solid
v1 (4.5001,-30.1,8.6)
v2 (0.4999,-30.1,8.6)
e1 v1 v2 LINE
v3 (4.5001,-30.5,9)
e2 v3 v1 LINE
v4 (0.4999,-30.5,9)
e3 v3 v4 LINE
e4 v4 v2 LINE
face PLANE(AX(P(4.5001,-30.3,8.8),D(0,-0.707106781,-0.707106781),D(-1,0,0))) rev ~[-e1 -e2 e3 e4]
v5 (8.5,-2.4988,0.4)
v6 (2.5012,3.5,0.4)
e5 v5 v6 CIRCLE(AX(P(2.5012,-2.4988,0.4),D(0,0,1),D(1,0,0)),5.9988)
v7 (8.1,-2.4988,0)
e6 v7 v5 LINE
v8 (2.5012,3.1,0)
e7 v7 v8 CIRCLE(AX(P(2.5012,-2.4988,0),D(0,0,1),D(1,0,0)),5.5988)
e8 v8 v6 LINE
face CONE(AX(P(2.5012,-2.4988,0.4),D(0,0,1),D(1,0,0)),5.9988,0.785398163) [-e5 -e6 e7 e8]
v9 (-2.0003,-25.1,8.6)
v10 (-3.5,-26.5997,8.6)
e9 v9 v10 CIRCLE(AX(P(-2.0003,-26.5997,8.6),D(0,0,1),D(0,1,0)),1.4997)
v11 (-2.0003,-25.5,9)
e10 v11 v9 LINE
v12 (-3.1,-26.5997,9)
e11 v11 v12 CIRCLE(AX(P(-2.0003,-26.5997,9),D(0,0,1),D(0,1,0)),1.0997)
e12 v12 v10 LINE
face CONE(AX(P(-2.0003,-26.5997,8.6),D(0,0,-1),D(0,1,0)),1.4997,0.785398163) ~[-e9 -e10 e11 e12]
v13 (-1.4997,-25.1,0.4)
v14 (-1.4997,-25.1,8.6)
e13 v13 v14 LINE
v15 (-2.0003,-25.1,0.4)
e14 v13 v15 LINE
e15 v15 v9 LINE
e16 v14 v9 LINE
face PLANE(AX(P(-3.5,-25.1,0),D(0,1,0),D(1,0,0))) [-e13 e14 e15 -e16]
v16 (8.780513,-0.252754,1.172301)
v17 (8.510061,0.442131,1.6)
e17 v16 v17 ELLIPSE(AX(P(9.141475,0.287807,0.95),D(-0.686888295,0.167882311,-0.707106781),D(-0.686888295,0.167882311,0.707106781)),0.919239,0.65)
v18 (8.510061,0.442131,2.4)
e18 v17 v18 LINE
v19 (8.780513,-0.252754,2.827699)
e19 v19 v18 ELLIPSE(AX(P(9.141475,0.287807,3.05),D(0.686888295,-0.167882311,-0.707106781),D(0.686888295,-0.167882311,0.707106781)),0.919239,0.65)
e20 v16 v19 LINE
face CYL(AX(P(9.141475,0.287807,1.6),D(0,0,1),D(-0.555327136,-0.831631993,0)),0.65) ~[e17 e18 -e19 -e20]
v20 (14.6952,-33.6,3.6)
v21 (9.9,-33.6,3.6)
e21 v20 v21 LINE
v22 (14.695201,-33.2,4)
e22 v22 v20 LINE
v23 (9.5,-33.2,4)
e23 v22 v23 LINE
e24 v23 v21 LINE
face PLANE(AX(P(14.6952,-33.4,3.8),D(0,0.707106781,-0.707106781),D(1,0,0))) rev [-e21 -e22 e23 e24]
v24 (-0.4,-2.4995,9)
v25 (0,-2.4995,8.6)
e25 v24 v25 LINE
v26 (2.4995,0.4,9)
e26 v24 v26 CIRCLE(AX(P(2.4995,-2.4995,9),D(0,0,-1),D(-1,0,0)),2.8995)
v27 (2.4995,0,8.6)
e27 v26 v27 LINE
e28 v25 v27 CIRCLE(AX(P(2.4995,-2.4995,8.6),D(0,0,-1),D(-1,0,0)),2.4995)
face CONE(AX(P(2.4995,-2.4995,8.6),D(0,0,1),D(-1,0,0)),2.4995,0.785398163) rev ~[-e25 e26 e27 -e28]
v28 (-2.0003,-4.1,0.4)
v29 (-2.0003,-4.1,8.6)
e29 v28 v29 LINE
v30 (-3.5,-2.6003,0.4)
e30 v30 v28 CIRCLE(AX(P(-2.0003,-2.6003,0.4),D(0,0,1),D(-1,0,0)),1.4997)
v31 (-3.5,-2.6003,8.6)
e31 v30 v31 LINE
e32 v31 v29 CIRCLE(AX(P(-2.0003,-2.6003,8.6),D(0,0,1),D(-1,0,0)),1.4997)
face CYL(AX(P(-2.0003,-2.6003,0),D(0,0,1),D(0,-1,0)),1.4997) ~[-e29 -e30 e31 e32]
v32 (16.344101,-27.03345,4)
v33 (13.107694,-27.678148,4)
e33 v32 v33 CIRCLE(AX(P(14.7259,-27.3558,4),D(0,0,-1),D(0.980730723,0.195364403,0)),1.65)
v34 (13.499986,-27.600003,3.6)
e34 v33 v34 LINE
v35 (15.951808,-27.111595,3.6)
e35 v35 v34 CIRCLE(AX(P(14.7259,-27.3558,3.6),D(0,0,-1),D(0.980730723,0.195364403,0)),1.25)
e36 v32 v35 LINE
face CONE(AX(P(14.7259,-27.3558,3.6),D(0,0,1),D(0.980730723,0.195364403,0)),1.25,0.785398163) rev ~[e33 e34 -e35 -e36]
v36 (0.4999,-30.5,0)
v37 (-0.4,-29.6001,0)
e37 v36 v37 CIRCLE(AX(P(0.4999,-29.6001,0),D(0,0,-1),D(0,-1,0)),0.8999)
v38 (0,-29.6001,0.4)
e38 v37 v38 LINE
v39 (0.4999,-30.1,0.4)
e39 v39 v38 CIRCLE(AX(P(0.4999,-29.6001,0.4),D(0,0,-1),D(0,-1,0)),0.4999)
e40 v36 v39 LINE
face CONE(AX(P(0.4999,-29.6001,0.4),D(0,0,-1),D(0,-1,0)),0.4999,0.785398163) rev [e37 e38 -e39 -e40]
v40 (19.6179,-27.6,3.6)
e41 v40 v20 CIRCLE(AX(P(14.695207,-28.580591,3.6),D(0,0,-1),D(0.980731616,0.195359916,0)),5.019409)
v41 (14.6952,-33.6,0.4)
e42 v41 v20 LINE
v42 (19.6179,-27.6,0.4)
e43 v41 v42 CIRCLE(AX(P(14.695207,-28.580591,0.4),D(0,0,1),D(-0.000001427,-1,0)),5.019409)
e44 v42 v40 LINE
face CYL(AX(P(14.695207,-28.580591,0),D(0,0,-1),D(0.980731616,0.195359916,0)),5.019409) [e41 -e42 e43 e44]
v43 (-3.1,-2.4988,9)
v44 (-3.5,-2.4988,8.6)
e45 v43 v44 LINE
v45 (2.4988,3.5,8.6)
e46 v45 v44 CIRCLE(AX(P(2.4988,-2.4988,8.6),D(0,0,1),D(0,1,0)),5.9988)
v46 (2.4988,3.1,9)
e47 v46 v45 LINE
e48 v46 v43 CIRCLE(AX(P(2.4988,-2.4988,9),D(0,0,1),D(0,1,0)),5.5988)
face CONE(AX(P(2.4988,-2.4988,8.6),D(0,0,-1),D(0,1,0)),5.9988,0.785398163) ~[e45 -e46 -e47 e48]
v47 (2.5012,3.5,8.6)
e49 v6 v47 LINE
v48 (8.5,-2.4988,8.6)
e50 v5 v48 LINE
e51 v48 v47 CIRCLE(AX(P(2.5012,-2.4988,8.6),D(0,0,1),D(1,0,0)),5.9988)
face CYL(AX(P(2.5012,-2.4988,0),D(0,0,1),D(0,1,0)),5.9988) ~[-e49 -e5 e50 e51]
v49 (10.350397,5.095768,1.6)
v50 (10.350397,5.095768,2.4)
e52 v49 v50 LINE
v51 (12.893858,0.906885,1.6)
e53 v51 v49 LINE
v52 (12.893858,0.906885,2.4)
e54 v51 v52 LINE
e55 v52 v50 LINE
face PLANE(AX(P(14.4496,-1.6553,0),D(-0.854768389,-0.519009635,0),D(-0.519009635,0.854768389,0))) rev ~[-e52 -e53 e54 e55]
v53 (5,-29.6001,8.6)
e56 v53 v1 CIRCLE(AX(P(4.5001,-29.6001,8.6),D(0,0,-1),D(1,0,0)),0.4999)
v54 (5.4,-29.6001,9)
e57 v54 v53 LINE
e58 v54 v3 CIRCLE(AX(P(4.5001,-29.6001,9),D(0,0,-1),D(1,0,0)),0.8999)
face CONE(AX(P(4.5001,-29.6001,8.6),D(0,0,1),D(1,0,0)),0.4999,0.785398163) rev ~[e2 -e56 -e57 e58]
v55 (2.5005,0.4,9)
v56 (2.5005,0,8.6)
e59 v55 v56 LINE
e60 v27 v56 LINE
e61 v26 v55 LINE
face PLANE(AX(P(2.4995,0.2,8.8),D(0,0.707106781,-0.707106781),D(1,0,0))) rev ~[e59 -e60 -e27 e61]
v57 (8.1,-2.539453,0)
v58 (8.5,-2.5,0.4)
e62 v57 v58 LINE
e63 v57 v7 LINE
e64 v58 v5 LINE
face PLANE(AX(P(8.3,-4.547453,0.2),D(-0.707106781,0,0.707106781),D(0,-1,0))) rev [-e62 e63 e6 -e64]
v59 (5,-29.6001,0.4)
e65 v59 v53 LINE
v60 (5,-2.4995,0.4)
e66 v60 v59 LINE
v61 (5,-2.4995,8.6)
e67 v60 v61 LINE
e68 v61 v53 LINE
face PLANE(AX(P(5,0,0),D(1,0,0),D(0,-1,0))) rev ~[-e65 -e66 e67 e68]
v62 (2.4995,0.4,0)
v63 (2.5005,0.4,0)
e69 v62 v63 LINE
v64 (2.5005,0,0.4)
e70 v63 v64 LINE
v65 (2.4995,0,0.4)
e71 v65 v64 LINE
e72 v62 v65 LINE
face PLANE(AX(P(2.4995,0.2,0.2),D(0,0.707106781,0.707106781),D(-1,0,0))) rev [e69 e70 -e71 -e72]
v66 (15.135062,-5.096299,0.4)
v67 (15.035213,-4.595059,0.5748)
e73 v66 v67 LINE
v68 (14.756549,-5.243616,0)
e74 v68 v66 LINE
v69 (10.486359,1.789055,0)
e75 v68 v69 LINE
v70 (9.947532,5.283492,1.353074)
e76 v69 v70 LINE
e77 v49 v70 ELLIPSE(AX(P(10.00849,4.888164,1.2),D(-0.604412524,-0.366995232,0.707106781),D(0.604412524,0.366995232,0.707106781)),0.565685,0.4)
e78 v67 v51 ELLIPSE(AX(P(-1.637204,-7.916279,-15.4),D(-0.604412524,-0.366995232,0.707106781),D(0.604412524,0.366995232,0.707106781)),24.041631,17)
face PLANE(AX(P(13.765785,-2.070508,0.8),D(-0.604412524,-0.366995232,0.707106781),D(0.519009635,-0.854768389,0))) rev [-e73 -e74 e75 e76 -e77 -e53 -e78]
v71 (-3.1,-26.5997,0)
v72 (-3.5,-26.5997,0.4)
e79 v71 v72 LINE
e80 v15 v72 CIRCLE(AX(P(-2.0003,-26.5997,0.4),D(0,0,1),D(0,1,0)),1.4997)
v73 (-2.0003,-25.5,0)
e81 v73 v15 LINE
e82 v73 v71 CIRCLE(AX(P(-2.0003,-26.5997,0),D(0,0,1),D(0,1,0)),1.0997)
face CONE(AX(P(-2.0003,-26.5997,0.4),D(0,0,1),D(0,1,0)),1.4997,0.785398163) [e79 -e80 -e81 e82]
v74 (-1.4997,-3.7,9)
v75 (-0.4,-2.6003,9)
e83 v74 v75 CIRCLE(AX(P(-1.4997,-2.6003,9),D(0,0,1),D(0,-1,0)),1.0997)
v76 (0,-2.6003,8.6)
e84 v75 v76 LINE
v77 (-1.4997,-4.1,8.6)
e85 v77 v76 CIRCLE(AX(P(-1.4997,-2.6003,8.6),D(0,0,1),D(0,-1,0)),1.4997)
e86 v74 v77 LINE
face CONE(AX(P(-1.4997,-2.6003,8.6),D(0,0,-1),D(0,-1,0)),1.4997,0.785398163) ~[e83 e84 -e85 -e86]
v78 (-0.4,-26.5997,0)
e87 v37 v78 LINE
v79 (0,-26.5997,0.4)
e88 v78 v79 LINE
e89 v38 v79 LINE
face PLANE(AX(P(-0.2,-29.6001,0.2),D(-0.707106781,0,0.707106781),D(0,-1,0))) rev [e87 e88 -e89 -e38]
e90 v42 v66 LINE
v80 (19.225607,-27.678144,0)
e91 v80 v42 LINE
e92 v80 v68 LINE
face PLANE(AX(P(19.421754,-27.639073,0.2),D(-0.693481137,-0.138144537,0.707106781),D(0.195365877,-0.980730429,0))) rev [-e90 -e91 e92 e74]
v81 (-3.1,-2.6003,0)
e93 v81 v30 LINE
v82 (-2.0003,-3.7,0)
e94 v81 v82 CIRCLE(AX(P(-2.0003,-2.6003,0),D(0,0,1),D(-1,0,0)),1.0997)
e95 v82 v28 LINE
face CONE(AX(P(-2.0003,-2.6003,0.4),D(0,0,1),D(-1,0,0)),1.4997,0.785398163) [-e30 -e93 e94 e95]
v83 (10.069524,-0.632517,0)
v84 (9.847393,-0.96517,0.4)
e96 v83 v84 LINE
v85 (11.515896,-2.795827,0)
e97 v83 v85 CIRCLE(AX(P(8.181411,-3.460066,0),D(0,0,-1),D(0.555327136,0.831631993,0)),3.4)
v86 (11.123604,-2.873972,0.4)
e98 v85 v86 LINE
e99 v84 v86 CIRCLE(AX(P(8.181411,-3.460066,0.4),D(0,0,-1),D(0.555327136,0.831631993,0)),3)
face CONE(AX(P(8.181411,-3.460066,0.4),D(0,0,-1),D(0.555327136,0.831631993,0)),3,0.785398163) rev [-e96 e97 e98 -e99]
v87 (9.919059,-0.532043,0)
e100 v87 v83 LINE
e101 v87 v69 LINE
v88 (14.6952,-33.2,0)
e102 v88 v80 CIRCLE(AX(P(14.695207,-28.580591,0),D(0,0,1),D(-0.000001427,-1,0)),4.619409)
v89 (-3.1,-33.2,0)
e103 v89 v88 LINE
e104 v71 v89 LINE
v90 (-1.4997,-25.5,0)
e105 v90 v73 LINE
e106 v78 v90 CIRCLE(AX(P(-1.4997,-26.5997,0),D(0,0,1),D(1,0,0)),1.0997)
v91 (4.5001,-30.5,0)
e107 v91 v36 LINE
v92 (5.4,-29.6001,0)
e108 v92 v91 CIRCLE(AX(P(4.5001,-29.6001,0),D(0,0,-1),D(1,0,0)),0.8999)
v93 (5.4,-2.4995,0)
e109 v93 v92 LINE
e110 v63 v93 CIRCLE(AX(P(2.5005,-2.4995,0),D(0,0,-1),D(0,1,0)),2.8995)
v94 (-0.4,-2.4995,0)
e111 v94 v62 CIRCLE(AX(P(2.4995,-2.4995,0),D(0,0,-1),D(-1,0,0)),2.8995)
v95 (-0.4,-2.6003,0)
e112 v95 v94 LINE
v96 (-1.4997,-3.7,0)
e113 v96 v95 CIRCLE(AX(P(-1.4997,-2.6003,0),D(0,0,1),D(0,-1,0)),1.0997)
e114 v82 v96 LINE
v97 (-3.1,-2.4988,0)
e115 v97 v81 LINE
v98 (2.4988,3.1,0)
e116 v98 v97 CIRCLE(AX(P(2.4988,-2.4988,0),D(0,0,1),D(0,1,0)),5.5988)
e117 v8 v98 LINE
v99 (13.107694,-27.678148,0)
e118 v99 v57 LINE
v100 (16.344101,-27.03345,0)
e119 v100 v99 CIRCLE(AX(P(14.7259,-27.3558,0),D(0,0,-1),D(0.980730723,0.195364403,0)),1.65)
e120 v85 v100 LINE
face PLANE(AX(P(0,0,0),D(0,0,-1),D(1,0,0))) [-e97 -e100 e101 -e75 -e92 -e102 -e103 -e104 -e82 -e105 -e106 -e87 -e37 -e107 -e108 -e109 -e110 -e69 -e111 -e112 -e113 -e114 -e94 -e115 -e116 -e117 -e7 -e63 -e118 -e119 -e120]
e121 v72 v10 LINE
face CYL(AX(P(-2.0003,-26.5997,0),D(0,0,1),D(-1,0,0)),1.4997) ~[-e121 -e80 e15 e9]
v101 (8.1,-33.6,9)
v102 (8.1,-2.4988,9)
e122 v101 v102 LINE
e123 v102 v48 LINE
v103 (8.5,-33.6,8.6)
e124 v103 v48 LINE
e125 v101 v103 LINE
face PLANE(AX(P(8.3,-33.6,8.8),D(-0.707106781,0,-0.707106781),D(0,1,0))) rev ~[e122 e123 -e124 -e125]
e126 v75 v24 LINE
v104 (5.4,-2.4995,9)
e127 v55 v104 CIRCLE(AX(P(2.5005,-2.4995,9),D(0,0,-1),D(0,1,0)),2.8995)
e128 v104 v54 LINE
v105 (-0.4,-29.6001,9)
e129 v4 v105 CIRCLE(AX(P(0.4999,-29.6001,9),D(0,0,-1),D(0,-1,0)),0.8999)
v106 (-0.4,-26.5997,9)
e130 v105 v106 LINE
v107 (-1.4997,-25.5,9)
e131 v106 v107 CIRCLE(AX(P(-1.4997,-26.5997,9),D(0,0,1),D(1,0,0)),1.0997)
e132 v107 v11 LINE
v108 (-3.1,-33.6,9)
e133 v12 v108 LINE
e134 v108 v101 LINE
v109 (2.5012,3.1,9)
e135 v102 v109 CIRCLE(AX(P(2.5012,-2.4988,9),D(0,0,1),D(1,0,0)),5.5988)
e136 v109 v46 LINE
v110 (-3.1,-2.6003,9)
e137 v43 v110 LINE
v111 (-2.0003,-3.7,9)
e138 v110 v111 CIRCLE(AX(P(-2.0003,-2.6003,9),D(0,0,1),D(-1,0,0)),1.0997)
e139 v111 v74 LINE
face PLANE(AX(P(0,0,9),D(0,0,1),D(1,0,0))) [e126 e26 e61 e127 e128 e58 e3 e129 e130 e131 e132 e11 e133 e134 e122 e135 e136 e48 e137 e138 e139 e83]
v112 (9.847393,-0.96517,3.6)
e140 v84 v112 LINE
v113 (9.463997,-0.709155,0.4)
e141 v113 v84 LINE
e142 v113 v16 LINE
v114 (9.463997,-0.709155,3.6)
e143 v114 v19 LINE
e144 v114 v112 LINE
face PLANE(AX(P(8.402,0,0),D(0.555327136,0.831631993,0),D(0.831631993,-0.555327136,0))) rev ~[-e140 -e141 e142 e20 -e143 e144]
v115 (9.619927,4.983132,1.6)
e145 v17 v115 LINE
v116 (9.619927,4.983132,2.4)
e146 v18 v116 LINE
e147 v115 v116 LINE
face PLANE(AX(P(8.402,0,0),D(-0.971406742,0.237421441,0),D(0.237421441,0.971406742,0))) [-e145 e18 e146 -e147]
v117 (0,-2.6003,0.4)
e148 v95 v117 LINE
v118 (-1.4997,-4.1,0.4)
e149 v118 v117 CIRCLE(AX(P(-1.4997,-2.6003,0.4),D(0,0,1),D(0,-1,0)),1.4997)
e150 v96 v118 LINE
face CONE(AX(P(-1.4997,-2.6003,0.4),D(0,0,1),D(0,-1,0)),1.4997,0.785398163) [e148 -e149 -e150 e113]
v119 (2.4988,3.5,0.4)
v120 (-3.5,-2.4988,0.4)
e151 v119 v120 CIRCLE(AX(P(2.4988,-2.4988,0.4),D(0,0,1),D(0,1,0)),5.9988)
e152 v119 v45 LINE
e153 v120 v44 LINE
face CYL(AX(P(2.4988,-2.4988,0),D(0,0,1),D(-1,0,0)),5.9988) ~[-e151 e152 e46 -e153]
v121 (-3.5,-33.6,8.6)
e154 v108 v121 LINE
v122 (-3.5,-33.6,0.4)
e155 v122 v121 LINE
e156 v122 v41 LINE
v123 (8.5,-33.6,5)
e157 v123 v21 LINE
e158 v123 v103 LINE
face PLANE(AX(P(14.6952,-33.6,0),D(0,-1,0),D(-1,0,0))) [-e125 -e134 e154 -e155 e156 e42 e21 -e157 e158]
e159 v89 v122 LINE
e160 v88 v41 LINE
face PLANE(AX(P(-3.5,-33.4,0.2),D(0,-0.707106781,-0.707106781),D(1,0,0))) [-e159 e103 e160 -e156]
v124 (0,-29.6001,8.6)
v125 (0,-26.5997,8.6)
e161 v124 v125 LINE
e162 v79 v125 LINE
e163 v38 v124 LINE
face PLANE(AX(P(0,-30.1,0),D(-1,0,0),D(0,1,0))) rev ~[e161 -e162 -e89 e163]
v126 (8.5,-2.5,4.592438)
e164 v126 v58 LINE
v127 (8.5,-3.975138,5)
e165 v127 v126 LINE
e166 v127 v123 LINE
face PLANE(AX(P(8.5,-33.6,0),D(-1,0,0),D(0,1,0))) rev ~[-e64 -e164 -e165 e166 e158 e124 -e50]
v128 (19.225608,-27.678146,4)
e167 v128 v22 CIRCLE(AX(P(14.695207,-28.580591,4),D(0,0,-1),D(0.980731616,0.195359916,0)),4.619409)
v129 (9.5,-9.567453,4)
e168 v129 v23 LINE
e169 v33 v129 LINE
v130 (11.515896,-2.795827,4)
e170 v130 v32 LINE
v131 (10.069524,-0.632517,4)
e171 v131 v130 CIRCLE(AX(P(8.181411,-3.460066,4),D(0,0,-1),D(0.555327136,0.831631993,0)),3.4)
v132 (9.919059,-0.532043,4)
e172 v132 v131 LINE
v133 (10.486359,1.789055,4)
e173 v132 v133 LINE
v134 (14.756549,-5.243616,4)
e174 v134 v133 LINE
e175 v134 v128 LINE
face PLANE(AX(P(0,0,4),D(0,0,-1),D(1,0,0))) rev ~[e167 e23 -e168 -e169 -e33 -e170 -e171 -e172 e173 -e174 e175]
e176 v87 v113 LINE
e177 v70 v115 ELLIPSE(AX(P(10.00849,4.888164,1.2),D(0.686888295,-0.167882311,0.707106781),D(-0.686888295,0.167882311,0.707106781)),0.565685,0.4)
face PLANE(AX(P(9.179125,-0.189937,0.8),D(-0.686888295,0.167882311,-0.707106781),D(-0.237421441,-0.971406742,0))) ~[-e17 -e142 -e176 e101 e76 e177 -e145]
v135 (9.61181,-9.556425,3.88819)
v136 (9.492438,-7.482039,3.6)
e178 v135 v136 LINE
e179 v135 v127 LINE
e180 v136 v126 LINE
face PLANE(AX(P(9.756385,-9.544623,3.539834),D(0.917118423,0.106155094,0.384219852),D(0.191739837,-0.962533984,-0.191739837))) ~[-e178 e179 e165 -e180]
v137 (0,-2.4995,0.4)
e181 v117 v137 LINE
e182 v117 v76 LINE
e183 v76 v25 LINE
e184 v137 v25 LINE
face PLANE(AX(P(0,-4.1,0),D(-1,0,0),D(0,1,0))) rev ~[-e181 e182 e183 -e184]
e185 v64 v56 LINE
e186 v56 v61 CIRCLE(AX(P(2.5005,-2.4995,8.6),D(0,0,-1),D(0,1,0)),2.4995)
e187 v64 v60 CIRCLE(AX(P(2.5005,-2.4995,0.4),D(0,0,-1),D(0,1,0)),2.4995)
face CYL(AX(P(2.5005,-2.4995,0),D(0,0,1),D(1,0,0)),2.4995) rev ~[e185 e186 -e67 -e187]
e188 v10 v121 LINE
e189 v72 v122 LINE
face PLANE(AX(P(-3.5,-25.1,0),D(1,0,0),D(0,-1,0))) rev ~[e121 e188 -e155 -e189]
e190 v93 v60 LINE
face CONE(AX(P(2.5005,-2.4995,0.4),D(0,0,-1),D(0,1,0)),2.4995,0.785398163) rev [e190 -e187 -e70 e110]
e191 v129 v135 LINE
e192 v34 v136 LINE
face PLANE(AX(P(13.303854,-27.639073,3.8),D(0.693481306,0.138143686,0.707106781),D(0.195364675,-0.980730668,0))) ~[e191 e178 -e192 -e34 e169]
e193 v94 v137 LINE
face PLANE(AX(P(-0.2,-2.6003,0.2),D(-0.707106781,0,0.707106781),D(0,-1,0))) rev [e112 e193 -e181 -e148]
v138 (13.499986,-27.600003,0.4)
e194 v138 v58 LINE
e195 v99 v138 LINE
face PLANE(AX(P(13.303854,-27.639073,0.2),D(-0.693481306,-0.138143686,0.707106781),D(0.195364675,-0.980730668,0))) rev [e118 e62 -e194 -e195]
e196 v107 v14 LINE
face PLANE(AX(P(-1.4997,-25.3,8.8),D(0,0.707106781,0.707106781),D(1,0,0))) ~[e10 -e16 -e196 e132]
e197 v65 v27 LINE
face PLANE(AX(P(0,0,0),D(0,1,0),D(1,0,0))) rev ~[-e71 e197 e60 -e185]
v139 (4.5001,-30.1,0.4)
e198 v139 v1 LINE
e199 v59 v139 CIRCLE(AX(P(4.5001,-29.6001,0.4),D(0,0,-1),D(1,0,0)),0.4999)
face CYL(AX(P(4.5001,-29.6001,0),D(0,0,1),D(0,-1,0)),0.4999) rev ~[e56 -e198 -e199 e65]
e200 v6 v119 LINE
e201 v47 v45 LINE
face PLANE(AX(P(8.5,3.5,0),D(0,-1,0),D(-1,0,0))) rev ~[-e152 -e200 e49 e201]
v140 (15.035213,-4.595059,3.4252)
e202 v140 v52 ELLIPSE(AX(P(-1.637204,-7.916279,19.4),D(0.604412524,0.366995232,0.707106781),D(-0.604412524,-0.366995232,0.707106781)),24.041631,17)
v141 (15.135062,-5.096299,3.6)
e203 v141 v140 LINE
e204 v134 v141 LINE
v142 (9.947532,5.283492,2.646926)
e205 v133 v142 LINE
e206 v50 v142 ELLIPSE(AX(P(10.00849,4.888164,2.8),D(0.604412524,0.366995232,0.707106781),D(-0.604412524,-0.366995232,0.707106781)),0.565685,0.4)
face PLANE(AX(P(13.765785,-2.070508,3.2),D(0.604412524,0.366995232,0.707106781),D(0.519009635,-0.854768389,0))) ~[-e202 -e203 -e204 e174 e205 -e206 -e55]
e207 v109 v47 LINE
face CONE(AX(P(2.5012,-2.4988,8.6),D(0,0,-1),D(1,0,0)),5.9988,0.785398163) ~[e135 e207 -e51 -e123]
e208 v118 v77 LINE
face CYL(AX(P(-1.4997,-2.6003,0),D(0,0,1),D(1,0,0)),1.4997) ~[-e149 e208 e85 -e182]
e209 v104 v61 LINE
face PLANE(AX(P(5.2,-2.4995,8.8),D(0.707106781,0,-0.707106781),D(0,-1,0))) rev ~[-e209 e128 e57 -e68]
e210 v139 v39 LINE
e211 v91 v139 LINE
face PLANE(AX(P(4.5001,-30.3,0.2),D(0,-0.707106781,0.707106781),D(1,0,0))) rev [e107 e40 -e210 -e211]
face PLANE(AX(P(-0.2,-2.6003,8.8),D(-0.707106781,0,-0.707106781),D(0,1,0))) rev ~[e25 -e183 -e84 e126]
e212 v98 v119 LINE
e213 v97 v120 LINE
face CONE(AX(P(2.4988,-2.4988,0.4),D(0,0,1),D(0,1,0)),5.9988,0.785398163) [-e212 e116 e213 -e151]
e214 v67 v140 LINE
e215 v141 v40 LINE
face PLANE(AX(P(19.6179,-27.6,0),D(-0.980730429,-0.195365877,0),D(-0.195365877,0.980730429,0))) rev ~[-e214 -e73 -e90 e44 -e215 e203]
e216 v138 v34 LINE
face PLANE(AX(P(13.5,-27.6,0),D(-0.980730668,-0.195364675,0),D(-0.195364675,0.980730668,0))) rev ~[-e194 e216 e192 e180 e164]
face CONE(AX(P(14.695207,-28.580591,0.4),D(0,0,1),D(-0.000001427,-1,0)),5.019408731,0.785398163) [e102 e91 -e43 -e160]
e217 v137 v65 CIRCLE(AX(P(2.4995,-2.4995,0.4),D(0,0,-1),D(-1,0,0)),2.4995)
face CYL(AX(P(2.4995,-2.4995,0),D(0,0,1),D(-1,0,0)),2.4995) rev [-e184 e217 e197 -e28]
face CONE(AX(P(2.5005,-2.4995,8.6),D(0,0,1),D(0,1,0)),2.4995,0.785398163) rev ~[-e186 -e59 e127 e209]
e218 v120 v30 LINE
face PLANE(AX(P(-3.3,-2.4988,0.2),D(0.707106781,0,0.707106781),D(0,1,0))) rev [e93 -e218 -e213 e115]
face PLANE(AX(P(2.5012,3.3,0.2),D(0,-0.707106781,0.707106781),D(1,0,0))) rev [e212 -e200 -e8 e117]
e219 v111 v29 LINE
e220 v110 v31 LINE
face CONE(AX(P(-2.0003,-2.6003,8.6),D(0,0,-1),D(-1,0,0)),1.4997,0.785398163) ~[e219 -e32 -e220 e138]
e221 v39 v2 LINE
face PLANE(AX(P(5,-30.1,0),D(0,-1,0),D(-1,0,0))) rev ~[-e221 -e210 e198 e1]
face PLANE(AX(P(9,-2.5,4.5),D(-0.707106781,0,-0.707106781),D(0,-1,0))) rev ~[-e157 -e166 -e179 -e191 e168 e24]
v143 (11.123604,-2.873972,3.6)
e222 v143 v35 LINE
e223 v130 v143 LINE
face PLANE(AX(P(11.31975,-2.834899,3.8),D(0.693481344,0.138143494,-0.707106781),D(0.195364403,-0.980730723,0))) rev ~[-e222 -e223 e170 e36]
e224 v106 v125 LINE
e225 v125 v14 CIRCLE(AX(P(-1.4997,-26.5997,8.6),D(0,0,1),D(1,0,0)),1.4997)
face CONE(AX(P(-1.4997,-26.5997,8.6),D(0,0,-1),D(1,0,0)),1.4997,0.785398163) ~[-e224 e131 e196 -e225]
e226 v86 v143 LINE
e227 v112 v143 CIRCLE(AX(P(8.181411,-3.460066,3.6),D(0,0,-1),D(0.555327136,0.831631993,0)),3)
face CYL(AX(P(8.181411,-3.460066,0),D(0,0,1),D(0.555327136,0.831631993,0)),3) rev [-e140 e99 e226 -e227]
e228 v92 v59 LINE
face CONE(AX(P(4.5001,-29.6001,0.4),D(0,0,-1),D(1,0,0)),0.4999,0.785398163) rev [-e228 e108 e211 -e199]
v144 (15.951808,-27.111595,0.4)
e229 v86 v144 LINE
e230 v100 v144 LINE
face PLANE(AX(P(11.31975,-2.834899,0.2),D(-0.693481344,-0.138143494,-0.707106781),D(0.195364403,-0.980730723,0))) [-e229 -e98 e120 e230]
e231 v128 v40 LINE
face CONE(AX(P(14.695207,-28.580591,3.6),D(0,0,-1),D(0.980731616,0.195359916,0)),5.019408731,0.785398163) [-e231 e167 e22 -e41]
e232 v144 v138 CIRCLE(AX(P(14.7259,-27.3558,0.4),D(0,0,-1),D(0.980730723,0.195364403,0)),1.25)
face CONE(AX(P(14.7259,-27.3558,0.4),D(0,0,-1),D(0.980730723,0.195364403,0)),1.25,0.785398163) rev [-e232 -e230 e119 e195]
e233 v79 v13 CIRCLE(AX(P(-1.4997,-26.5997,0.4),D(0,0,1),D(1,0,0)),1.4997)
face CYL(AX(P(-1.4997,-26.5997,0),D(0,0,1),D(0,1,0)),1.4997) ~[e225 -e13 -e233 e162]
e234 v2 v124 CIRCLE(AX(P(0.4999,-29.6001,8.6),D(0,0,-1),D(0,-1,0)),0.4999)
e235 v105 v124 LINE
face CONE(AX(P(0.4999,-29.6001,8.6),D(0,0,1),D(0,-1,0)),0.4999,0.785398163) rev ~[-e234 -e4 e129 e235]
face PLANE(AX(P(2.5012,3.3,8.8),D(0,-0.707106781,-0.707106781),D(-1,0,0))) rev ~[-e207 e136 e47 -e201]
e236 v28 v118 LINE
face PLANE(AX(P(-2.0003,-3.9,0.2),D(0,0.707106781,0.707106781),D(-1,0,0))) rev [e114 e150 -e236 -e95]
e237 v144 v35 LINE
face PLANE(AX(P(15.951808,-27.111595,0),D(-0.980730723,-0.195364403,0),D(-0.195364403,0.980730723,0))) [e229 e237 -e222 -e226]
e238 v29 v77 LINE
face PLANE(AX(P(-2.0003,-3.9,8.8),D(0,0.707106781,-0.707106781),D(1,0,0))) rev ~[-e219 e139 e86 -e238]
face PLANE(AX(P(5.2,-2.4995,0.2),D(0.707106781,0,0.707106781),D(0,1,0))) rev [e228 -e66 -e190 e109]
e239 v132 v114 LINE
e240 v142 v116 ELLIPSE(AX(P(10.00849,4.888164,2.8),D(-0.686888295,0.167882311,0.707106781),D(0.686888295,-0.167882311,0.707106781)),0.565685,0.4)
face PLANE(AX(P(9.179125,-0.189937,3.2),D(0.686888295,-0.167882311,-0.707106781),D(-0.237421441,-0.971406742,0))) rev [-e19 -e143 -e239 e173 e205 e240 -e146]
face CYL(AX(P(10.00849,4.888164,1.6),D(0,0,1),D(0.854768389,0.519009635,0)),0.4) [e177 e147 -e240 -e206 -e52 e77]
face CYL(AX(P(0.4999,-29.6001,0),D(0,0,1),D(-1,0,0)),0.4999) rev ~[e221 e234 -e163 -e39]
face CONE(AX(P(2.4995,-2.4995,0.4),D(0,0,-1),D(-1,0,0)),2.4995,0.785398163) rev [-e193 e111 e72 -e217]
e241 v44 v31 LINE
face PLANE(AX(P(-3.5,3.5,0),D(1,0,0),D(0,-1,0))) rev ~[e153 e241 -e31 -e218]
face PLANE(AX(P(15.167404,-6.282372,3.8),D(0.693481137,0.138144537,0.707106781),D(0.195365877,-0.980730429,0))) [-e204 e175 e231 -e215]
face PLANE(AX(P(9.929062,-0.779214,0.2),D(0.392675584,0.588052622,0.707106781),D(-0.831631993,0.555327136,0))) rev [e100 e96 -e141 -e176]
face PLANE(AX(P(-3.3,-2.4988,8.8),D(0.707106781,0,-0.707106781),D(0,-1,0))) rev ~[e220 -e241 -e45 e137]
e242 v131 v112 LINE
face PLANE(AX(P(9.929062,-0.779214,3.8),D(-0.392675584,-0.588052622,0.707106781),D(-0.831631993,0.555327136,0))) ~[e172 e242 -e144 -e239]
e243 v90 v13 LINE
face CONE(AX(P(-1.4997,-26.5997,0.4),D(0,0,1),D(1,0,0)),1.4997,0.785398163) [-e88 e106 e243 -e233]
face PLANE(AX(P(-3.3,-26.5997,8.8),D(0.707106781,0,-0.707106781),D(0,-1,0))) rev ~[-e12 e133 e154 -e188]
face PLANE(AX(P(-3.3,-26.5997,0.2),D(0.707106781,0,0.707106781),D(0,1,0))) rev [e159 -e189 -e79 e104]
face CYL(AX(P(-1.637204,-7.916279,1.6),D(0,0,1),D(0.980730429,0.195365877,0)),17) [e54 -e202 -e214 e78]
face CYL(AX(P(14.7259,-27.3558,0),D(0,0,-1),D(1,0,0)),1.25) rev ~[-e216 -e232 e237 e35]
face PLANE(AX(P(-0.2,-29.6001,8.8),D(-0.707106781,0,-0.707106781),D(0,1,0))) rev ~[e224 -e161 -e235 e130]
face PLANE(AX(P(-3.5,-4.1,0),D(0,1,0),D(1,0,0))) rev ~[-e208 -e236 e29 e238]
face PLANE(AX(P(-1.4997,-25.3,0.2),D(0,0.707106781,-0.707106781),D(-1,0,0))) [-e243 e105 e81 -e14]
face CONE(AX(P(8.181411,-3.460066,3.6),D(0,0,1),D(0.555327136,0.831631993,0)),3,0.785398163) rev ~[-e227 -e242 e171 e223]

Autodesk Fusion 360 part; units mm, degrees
sketch "Sketch2" plane through (0, 0, 0) normal (0, 0, 1) x (1, 0, 0)
  line L0 (0, 0) -> (5, 0)
  line L1 (5, 0) -> (5, -30.1)
  line L2 (5, -30.1) -> (0, -30.1)
  line L3 (0, -30.1) -> (0, 0)
  line L4 (-3.5, -33.6) -> (8.5, -33.6)
  line L5 (8.5, -33.6) -> (8.5, 3.5)
  line L6 (8.5, 3.5) -> (-3.5, 3.5)
  line L7 (-3.5, 3.5) -> (-3.5, -33.6)
  line L8 (-3.5, -25.1) -> (0, -25.1)
  line L9 (-3.5, -4.1) -> (0, -4.1)
  dimension "d12" = 30.1
  dimension "d13" = 5
  dimension "d22" = 3.5
  dimension "d23" = 3.5
  dimension "d24" = 3.5
  dimension "d25" = 3.5
  dimension "d26" = 21
  dimension "d27" = 5
extrude "Extrude1" add sketch "Sketch2" along normal blind 9 contours L0 L1 L2 L3 L4 L5 L6 L7 L8 L9
fillet "Fillet1" radius 2.5 2 edges at (5, 0, 4.5) (0, 0, 4.5)
fillet "Fillet1" radius 6 2 edges at (8.5, 3.5, 4.5) (-3.5, 3.5, 4.5)
fillet "Fillet1" radius 1.5 4 edges at (0, -4.1, 4.5) (-3.5, -4.1, 4.5) (0, -25.1, 4.5) (-3.5, -25.1, 4.5)
fillet "Fillet1" radius 0.5 2 edges at (0, -30.1, 4.5) (5, -30.1, 4.5)
sketch "Sketch3" plane through (0, 0, 0) normal (0, 0, -1) x (1, 0, 0)
  arc A0 (-3.5, 26.6) -> (-2, 25.1) centre (-2, 26.6) ccw
  line L0 (-2, 25.1) -> (-1.5, 25.1)
  arc A1 (-1.5, 25.1) -> (0, 26.6) centre (-1.5, 26.6) ccw
  line L1 (0, 26.6) -> (0, 29.6)
  line L2 (0.5, 30.1) -> (4.5, 30.1)
  line L3 (5, 29.6) -> (5, 2.5)
  arc A2 (0, 2.5) -> (5, 2.5) centre (2.5, 2.5) ccw
  line L4 (0, 2.5) -> (0, 2.6)
  arc A3 (0, 2.6) -> (-1.5, 4.1) centre (-1.5, 2.6) ccw
  line L5 (-1.5, 4.1) -> (-2, 4.1)
  arc A4 (-2, 4.1) -> (-3.5, 2.6) centre (-2, 2.6) ccw
  line L6 (-3.5, 2.6) -> (-3.5, 2.5)
  arc A5 (-3.5, 2.5) -> (8.5, 2.5) centre (2.5, 2.5) ccw
  line L7 (8.5, 2.5) -> (8.5, 33.6)
  line L8 (8.5, 33.6) -> (-3.5, 33.6)
  line L9 (-3.5, 33.6) -> (-3.5, 26.6)
  line L10 (8.5, 27.6) -> (16.0491, 27.6) construction
  line L11 (13.5, 27.6) -> (8.5, 2.5)
  line L12 (16.0491, 27.6) -> (10.5511, 0)
  line L13 (0, 0) -> (10.5511, 0) construction
  line L14 (19.6179, 27.6) -> (14.4496, 1.6553)
  line L15 (8.402, 0) -> (9.8492, -5.9212)
  line L16 (8.402, 0) -> (10.8809, 1.6553)
  line L17 (14.4496, 1.6553) -> (9.8492, -5.9212)
  line L18 (14.4496, 1.6553) -> (10.8809, 1.6553) construction
  arc A6 (19.6179, 27.6) -> (14.6952, 33.6) centre (14.6952, 28.5806) ccw
  line L19 (14.6952, 33.6) -> (8.5, 33.6)
  line L20 (8.5, 2.5) -> (8.002, 0)
  line L21 (19.6179, 27.6) -> (16.0491, 27.6) construction
  circle A7 centre (14.7259, 27.3558) radius 1.25
  arc A8 (0.5, 30.1) -> (0, 29.6) centre (0.5, 29.6) ccw
  arc A9 (5, 29.6) -> (4.5, 30.1) centre (4.5, 29.6) ccw
  dimension "d36" = 2.5
  dimension "d37" = 2.5
  dimension "d38" = 5
  dimension "d39" = 3.5
  dimension "d40" = 45
  dimension "d41" = 110
  dimension "d44" = 20
  dimension "d45" = 0.4
extrude "Extrude2" add sketch "Sketch3" against normal blind 4 contours L7 L11 L12 L14 L15 L16 L17 A6 L19 A7
chamfer "Chamfer1" distance 1 angle 45 1 edges at (8.5, -18.05, 4)
chamfer "Chamfer4" distance 1.6 angle 45 4 edges at (9.1256, 2.9606, 4) (12.1494, 2.133, 4) (12.1494, 2.133, 0) (9.1256, 2.9606, 0)
fillet "Fillet3" radius 0.4 1 edges at (9.8492, 5.9212, 2)
fillet "Fillet3" radius 17 1 edges at (14.4496, -1.6553, 2)
fillet "Fillet3" radius 3 1 edges at (10.8809, -1.6553, 2)
fillet "Fillet3" radius 0.65 1 edges at (8.402, 0, 2)
chamfer "Chamfer5" distance 0.4 angle 45 9 edges at (18.5757, -31.7643, 4) (17.4907, -16.9216, 4) (12.0976, -33.6, 4) (11.5, -17.56, 4) (9.8327, -0.9554, 4) (10.6754, -1.7927, 4) (13.5377, -14.9928, 4) (14.9701, -28.5817, 4) (9, -5.01, 4.5)
chamfer "Chamfer5" distance 0.4 angle 45 24 edges at (17.4907, -16.9216, 0) (5.5976, -33.6, 0) (18.5757, -31.7643, 0) (-3.5, -30.1, 0) (2.5, 3.5, 0) (-3.5, -2.55, 0) (-3.0607, -3.6607, 0) (-1.75, -4.1, 0) (-0.4393, -3.6607, 0) (0, -2.55, 0) (2.5, 0, 0) (5, -16.05, 0) (4.8536, -29.9536, 0) (2.5, -30.1, 0) (0.1464, -29.9536, 0) (0, -28.1, 0) (-0.4393, -25.5393, 0) (-1.75, -25.1, 0) (-3.0607, -25.5393, 0) (11, -15.05, 0) (9.8327, -0.9554, 0) (10.6754, -1.7927, 0) (13.5377, -14.9928, 0) (14.9701, -28.5817, 0)
chamfer "Chamfer5" distance 0.4 angle 45 17 edges at (2.5, 0, 9) (0, -2.55, 9) (-0.4393, -3.6607, 9) (-1.75, -4.1, 9) (-3.0607, -3.6607, 9) (-3.5, -2.55, 9) (2.5, 3.5, 9) (8.5, -18.05, 9) (-3.5, -30.1, 9) (-3.0607, -25.5393, 9) (-1.75, -25.1, 9) (-0.4393, -25.5393, 9) (0, -28.1, 9) (0.1464, -29.9536, 9) (2.5, -30.1, 9) (4.8536, -29.9536, 9) (5, -16.05, 9)
equation "slot_height = 30.1 mm"
equation "slot_width = 5 mm"
equation "hook_offset = 2.5 mm"
equation "hook_slot = 2.5 mm"
equation "track_gap = 21 mm"
equation "body_width = 3.5 mm"
equation "d22 = body_width"
equation "d23 = body_width"
equation "d24 = body_width"
equation "d25 = body_width"
equation "d26 = track_gap"
equation "d36 = hook_offset"
equation "d37 = hook_slot"
equation "d39 = body_width"
equation "d40 = 45 °"
equation "d41 = 110 °"
equation "d44 = 20 °"
